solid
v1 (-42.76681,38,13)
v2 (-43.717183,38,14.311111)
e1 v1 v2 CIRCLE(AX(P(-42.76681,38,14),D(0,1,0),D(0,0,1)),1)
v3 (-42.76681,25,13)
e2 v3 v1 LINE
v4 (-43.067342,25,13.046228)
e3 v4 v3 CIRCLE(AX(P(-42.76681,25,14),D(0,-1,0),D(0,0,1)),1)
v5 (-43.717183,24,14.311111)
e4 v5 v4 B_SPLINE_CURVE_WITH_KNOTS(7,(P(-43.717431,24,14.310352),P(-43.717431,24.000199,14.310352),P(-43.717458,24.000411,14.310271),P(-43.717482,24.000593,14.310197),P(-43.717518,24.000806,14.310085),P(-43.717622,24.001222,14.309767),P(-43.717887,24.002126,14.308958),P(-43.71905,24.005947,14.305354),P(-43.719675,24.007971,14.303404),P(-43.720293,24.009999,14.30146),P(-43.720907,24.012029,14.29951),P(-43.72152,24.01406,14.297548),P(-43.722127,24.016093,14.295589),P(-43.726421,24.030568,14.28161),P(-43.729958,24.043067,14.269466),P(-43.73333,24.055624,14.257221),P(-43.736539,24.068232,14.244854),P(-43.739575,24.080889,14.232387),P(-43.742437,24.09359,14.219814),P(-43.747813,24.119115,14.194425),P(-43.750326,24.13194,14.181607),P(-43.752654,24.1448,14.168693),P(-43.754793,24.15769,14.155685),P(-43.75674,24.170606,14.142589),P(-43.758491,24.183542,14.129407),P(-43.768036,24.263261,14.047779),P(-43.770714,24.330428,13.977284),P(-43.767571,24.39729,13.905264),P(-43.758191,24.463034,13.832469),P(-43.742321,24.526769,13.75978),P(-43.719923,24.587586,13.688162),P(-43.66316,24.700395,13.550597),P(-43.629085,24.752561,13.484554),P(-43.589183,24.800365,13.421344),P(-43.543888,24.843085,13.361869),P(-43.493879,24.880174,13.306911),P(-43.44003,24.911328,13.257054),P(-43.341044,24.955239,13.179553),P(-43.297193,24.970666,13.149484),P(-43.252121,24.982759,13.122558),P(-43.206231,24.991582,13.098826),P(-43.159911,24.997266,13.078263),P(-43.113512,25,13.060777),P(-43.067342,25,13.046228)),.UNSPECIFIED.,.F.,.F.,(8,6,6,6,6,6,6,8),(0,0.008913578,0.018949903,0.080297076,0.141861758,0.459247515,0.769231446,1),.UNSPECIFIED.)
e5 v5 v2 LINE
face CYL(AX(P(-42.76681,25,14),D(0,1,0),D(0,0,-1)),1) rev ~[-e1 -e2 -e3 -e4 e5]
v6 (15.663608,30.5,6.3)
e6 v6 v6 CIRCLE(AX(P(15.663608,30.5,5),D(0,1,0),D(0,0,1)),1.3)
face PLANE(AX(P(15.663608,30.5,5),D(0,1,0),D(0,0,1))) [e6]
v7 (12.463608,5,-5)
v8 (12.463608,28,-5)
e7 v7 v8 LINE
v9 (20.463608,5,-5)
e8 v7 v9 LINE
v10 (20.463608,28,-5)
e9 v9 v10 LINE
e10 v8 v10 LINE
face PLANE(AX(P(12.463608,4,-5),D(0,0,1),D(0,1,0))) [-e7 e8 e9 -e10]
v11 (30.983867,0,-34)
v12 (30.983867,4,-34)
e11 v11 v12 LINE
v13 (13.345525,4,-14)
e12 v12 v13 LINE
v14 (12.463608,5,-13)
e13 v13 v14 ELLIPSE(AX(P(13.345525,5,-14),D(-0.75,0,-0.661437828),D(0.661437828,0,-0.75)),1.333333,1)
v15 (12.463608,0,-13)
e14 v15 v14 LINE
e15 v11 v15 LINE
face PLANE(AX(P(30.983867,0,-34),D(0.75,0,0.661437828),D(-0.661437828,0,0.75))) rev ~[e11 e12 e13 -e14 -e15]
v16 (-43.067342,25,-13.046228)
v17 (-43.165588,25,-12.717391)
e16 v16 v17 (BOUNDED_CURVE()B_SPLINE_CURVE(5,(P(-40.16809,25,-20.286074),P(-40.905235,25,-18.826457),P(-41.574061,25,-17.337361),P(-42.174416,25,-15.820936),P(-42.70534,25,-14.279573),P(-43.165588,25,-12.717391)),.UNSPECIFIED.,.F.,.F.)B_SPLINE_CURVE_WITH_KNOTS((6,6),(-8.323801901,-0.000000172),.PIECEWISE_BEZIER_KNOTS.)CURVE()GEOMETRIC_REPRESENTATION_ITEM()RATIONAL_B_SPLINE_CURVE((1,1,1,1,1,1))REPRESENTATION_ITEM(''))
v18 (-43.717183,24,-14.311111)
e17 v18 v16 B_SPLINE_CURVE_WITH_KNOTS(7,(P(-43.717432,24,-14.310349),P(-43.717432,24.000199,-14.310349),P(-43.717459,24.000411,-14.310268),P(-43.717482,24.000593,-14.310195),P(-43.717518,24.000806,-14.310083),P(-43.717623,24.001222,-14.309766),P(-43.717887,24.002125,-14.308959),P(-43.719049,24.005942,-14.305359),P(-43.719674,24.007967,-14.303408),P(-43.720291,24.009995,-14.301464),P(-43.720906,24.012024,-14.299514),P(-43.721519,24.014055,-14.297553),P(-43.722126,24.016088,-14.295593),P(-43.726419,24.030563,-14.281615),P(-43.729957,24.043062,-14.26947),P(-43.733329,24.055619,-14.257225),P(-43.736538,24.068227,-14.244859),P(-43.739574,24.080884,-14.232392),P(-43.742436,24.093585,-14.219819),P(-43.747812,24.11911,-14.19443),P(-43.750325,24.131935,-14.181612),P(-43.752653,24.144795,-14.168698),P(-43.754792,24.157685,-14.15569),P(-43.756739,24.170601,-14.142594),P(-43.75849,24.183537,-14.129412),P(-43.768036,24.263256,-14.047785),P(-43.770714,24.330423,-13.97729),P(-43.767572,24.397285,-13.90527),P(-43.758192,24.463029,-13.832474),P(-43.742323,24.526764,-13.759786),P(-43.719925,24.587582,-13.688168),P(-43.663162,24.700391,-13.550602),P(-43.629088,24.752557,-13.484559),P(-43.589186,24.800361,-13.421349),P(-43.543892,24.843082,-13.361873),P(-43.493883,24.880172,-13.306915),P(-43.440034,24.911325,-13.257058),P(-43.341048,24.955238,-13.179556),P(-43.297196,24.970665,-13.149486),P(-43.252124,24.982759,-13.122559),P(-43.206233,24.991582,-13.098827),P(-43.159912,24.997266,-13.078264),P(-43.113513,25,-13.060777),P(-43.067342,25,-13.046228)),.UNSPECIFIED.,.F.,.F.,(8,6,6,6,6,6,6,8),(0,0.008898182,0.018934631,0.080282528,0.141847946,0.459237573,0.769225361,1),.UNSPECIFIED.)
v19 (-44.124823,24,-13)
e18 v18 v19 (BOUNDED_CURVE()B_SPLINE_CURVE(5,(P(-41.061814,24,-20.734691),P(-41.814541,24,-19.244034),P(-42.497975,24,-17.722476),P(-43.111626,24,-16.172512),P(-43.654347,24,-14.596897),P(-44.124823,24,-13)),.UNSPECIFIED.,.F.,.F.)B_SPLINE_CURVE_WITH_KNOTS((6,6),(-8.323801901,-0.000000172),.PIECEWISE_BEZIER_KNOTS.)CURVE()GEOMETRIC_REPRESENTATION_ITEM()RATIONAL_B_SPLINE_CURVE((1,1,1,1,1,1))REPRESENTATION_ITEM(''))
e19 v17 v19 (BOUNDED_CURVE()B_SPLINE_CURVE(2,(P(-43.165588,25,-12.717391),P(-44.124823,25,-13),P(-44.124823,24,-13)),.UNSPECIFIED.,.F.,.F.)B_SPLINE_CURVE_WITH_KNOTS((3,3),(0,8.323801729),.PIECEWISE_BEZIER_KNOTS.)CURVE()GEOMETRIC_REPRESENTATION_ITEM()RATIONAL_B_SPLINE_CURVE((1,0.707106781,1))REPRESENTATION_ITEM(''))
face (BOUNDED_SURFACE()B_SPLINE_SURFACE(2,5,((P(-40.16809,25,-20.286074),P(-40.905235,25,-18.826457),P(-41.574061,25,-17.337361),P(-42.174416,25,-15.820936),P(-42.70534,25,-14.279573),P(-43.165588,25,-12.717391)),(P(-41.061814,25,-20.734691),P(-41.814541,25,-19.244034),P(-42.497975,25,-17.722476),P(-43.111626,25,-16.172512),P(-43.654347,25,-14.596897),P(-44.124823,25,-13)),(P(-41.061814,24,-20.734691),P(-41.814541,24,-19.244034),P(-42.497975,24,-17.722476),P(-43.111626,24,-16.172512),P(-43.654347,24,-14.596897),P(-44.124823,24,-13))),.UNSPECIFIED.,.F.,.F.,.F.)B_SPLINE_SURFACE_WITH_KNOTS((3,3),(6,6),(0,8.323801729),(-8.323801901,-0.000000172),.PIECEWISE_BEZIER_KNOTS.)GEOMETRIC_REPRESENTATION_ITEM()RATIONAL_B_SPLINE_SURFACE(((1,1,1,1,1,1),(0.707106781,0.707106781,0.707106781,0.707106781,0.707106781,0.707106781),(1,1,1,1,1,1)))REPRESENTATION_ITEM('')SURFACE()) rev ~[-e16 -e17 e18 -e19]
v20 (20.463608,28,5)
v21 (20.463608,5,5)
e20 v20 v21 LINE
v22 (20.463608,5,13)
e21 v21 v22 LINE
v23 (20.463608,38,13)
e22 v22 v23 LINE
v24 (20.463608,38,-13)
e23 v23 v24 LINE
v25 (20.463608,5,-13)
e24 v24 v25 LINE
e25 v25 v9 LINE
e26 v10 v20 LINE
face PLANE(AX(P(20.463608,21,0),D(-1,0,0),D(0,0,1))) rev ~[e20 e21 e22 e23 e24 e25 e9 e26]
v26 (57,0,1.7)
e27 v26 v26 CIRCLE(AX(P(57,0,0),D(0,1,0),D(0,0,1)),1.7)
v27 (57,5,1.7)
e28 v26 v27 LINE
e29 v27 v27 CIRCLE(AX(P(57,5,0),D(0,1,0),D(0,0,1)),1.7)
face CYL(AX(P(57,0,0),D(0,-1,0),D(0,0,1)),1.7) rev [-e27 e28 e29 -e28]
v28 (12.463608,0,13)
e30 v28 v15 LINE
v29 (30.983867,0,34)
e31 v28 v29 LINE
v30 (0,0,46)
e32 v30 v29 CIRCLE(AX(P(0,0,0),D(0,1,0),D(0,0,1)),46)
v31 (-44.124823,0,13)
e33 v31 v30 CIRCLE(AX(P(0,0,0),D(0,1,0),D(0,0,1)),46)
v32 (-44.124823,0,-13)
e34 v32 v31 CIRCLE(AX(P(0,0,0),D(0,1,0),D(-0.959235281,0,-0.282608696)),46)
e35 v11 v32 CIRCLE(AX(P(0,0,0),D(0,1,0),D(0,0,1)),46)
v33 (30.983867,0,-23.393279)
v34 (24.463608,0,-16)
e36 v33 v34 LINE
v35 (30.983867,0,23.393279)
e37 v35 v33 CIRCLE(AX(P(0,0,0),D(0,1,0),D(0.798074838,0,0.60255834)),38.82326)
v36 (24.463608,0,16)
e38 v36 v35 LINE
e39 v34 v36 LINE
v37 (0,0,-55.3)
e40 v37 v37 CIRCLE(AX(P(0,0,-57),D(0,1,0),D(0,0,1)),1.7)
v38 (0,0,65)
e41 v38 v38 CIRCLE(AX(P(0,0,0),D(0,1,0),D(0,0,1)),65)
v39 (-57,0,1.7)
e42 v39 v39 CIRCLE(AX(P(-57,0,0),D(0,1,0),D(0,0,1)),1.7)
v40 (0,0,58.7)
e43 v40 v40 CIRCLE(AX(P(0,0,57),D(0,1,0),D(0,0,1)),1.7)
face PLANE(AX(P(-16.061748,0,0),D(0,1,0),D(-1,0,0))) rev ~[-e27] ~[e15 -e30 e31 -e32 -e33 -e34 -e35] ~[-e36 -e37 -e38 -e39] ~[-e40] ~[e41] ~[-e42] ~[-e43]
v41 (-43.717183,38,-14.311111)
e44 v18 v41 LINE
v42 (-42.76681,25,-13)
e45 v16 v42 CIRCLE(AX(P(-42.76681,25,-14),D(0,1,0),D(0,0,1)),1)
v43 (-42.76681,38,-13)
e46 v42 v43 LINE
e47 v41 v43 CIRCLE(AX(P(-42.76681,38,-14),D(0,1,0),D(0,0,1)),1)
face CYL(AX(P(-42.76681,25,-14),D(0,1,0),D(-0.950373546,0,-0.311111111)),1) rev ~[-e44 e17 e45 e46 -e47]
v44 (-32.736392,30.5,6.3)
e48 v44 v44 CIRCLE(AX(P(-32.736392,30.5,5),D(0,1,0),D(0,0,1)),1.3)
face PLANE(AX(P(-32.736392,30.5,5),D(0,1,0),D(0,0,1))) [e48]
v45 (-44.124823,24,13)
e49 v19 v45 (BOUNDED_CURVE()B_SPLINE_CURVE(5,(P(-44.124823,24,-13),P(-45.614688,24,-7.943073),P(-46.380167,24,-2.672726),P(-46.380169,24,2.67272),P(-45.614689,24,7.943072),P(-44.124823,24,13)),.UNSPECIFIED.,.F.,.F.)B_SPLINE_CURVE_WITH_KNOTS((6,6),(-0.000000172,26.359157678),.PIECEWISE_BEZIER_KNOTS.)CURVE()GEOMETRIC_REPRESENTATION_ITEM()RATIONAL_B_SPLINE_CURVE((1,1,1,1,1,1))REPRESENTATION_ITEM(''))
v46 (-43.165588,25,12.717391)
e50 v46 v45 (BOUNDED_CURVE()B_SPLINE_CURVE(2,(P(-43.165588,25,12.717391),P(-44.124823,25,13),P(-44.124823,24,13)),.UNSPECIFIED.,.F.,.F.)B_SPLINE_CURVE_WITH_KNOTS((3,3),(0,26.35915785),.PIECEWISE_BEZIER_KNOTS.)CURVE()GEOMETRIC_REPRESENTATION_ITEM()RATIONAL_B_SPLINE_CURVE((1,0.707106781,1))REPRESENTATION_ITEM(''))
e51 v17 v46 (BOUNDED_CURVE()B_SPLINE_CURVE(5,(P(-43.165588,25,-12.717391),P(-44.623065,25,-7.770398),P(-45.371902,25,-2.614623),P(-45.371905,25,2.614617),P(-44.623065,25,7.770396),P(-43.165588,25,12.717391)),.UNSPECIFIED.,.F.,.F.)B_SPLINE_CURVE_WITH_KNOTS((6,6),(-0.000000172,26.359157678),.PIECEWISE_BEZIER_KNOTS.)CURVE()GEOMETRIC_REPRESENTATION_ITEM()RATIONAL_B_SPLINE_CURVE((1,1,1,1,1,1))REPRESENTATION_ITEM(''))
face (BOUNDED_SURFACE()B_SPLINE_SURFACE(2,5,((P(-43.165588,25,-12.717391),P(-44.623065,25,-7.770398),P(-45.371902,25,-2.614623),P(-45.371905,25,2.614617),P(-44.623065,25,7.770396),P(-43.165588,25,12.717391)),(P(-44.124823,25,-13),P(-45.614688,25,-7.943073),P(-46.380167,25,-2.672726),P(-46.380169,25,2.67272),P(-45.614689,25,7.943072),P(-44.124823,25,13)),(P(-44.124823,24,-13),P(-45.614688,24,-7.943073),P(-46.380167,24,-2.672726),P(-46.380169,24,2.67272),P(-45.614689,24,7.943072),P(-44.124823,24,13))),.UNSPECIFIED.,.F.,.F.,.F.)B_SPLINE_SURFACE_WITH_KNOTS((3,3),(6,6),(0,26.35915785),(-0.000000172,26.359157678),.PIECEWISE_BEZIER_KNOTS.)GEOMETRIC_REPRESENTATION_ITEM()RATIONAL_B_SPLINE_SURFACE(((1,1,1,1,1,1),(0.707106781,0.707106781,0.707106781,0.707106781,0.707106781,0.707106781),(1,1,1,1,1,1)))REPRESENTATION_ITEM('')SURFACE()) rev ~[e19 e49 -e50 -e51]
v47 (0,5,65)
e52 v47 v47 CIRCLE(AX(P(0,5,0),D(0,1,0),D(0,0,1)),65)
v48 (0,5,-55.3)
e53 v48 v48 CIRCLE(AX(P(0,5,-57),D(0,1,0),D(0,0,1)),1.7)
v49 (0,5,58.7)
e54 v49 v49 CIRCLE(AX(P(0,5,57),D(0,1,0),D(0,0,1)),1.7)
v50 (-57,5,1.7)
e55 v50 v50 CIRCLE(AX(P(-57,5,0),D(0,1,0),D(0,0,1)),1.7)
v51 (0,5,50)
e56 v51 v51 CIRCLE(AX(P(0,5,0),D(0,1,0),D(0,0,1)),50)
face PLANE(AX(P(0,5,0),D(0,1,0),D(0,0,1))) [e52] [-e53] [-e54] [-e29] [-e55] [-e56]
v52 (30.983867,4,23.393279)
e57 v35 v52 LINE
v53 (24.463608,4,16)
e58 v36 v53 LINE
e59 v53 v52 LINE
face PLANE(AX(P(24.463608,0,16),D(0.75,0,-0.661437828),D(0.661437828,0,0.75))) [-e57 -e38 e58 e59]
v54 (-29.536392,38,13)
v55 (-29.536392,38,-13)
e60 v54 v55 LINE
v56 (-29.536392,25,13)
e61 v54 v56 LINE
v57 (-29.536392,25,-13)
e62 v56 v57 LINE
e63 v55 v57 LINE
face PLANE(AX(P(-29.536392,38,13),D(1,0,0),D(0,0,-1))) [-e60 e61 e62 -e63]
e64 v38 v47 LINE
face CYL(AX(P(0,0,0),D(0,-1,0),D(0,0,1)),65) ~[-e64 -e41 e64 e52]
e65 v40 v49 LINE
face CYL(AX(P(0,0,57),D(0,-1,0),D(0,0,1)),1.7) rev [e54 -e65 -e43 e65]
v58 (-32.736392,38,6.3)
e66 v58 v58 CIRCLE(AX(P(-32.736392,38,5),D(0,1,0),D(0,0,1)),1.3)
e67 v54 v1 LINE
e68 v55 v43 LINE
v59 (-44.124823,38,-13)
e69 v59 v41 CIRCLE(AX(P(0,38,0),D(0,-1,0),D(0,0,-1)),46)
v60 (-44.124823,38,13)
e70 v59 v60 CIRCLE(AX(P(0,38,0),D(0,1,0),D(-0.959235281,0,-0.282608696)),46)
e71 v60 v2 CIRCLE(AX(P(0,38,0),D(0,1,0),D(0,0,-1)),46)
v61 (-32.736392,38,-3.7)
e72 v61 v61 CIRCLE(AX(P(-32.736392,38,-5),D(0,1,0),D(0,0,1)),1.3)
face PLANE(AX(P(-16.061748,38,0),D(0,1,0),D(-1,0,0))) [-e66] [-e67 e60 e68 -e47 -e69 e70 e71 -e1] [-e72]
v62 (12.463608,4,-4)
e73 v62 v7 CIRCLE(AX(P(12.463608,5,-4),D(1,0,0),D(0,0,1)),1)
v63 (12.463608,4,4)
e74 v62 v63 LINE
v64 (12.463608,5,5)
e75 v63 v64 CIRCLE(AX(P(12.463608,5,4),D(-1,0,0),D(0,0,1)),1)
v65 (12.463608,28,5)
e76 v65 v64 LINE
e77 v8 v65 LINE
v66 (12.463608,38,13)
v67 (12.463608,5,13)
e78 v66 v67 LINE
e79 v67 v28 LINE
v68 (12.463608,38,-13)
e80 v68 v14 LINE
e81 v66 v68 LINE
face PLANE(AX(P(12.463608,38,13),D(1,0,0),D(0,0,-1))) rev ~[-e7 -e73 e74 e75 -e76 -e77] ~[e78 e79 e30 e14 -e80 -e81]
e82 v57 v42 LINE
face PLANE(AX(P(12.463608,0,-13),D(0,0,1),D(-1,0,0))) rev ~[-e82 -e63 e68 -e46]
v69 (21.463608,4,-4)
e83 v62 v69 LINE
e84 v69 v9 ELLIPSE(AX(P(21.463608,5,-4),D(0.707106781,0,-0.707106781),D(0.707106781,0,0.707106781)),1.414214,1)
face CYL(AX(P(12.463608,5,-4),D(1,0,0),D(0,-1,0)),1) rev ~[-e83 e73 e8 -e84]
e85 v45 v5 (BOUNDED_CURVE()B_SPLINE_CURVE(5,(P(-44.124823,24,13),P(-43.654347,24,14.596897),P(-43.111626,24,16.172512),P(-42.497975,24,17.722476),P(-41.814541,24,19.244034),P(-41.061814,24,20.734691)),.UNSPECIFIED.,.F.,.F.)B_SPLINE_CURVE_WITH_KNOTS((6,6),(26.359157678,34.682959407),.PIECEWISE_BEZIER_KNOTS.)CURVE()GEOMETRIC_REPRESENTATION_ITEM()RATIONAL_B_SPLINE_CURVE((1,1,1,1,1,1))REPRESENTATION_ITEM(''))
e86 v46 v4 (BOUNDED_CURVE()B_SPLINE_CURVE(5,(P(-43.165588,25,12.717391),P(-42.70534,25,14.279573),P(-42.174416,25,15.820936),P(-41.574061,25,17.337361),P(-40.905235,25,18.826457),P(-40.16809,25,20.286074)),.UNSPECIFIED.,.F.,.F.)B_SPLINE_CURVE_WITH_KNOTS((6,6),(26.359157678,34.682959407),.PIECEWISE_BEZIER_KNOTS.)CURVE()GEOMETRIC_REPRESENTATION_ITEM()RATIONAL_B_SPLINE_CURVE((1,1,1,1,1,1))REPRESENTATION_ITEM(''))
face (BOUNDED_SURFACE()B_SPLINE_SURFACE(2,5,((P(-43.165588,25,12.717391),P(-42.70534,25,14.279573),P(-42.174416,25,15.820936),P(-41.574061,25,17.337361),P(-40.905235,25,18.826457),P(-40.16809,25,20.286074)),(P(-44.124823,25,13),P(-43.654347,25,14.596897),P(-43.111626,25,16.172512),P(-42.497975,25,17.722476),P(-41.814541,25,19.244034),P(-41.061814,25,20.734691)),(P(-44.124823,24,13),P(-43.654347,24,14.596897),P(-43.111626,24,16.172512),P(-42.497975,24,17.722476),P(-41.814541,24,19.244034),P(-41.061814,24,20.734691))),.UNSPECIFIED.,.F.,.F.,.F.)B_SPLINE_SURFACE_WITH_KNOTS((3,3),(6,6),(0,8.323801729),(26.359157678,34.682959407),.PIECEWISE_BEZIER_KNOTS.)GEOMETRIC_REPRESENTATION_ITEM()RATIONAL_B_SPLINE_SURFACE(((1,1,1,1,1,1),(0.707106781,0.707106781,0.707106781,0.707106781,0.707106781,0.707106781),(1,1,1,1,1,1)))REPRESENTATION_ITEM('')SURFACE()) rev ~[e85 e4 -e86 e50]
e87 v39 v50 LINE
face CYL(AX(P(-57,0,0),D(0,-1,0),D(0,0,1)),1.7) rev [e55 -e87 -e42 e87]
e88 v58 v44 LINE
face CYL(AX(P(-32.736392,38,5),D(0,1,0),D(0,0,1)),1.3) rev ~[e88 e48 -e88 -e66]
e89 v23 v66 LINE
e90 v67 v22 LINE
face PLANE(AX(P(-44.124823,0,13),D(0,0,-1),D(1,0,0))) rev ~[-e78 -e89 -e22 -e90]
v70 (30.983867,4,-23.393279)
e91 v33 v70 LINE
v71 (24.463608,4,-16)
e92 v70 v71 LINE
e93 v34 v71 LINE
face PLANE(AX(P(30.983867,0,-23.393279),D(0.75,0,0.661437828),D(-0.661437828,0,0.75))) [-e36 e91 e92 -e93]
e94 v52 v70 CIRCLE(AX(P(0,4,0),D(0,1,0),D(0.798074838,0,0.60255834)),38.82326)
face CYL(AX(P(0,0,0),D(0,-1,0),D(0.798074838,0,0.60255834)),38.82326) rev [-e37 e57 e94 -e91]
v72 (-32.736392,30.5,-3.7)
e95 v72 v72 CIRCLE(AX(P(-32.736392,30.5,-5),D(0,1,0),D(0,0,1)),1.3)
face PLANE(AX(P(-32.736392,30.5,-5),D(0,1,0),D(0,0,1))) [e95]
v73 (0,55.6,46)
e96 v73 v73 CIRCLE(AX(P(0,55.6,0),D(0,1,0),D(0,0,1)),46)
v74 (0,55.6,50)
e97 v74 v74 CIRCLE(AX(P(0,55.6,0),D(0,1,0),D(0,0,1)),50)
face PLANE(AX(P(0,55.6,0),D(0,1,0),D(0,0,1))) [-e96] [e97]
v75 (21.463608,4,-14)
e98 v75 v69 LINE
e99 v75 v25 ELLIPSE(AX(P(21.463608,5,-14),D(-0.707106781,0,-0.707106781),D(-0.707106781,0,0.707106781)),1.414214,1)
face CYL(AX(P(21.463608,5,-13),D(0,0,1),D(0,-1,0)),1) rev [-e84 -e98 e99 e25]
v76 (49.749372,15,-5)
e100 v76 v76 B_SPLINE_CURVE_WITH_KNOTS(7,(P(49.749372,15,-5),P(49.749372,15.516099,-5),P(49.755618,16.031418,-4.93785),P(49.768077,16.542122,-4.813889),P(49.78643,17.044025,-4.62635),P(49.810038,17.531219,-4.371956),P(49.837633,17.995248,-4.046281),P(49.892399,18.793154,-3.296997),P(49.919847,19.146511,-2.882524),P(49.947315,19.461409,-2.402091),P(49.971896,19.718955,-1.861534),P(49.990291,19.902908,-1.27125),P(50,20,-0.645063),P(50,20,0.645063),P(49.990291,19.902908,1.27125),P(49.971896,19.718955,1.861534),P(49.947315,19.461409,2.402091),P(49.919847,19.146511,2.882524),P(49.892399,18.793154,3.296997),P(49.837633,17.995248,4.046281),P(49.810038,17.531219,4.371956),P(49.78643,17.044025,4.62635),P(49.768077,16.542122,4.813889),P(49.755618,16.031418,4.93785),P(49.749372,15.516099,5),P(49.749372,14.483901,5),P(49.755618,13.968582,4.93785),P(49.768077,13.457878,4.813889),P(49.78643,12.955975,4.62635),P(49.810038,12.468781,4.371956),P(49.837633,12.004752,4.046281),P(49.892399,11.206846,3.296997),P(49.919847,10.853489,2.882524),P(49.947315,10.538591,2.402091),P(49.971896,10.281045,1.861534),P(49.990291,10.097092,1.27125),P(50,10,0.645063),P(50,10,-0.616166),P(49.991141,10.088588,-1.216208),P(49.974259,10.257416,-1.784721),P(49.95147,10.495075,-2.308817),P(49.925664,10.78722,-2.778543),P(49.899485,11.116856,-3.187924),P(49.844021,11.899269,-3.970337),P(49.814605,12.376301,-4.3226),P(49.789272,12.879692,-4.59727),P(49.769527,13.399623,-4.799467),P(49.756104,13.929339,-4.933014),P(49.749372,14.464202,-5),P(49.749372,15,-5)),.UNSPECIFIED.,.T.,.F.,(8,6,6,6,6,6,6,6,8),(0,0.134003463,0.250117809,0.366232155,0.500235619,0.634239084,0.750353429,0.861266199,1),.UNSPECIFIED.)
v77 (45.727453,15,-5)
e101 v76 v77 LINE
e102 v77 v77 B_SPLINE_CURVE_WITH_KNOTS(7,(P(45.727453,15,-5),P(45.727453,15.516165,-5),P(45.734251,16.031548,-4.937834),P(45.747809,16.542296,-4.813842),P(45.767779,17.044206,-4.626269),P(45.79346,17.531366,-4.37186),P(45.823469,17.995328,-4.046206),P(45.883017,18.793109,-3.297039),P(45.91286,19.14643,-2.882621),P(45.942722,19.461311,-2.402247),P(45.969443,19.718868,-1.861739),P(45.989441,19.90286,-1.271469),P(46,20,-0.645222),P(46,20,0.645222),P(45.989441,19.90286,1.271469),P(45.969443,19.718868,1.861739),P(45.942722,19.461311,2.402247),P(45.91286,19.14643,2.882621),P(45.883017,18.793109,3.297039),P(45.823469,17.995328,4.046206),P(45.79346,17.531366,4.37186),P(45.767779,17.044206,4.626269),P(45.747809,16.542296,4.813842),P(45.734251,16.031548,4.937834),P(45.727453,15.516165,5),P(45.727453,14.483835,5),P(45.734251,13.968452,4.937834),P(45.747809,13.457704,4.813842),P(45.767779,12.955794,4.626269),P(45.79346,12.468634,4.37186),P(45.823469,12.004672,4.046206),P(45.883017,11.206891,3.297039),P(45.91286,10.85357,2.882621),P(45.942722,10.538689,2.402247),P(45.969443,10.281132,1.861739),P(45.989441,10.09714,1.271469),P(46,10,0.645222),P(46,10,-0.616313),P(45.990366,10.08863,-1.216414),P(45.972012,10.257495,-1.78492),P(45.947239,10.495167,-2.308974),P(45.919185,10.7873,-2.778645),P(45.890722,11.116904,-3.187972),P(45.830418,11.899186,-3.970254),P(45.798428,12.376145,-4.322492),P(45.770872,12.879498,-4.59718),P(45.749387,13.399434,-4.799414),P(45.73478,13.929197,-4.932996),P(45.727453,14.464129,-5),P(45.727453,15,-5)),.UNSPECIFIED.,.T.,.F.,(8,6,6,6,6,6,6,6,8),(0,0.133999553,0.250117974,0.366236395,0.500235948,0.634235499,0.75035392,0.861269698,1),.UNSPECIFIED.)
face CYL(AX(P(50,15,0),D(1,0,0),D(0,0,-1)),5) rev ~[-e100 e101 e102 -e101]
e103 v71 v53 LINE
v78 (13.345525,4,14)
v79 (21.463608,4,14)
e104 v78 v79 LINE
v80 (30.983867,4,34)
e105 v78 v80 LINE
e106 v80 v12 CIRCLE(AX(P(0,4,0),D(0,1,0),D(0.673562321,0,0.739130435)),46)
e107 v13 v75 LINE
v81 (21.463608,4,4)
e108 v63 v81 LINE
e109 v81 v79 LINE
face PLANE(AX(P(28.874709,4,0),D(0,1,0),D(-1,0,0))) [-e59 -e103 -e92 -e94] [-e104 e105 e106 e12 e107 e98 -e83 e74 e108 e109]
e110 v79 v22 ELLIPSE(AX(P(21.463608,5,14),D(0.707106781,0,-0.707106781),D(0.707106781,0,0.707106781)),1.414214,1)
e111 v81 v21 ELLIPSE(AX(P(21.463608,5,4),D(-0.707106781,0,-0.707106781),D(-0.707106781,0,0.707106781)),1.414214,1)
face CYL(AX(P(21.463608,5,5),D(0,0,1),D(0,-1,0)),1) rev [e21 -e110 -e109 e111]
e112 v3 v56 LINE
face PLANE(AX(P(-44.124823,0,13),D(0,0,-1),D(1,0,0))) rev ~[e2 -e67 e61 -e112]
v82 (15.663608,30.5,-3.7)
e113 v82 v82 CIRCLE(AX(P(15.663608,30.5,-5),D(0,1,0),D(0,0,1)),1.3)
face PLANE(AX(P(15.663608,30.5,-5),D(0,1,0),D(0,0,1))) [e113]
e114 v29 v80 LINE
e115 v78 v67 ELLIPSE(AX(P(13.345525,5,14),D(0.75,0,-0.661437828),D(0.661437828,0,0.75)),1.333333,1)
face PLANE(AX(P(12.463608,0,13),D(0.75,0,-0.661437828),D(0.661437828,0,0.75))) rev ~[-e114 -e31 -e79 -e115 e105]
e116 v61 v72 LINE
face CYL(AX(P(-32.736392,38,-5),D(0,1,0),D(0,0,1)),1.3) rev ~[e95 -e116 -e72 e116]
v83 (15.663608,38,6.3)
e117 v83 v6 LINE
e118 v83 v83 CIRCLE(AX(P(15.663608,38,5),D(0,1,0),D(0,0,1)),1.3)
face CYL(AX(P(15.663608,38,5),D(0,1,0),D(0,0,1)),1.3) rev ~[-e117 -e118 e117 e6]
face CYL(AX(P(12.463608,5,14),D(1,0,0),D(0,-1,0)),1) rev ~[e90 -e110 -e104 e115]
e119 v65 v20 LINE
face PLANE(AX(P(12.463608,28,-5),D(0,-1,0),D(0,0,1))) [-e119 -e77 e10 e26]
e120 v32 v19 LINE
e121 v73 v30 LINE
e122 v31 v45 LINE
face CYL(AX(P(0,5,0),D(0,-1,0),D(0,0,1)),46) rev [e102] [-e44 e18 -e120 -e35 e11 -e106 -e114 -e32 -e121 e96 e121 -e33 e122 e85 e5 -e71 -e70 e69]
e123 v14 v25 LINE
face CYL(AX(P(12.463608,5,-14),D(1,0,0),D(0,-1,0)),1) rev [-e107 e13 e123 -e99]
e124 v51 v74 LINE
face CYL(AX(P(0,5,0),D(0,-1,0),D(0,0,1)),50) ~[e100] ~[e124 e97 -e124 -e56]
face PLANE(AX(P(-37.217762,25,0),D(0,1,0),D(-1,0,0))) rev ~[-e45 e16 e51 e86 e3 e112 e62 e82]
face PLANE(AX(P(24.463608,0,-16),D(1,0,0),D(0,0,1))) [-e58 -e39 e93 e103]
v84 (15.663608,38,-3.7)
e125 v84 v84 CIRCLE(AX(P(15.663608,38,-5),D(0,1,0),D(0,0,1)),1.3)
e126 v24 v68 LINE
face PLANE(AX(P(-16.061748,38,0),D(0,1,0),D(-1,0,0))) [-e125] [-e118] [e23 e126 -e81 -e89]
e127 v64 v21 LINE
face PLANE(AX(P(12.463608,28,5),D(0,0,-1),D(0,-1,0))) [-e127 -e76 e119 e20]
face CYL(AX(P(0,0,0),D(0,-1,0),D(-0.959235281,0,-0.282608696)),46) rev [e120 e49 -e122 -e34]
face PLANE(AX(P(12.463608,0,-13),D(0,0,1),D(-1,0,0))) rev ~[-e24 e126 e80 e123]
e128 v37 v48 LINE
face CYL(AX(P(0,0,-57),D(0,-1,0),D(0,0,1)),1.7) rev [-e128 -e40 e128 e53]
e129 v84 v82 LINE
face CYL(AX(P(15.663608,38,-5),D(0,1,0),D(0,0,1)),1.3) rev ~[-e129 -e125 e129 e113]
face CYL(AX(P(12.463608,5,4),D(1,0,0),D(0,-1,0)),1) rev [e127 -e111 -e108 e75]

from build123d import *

# Parameters (mm, degrees)
SKETCH1_R               = 65
SKETCH1_R_2             = 46
SKETCH1_R_3             = 1.7
BOSS_EXTRUDE1_DEPTH     = 5
SKETCH3_R               = 50
SKETCH3_R_2             = 46
BOSS_EXTRUDE2_DEPTH     = 50.6
BOSS_EXTRUDE3_DEPTH     = 4
BOSS_EXTRUDE4_DEPTH     = 8
BOSS_EXTRUDE5_DEPTH     = 38
CUT_EXTRUDE3_REACH      = 145.323
CUT_EXTRUDE3_END_RADIUS = 46
SKETCH12_R              = 5
SKETCH13_W              = 42
SKETCH13_H              = 26
CUT_EXTRUDE4_DEPTH      = 38
SKETCH14_R              = 1.3
CUT_EXTRUDE5_DEPTH      = 7.5
CUT_EXTRUDE6_DEPTH      = 25
FILLET1_R               = 1


with BuildPart() as part:
    # Sketch1 → Boss-Extrude1 (new body)
    with BuildSketch(Plane(origin=(0, 0, 0), x_dir=(1, 0, 0), z_dir=(0, 1, 0))):
        with Locations(Location((0, 0, 0), (0, 0, 270))):
            Circle(SKETCH1_R)
        with Locations(Location((0, 0, 0), (0, 0, 270))):
            Circle(SKETCH1_R_2, mode=Mode.SUBTRACT)
        with Locations(Location((0, -57, 0), (0, 0, 270))):
            Circle(SKETCH1_R_3, mode=Mode.SUBTRACT)
        with Locations(Location((-57, 0, 0), (0, 0, 270))):
            Circle(SKETCH1_R_3, mode=Mode.SUBTRACT)
        with Locations(Location((0, 57, 0), (0, 0, 270))):
            Circle(SKETCH1_R_3, mode=Mode.SUBTRACT)
        with Locations(Location((57, 0, 0), (0, 0, 270))):
            Circle(SKETCH1_R_3, mode=Mode.SUBTRACT)
    extrude(amount=BOSS_EXTRUDE1_DEPTH)

    # Sketch3 → Boss-Extrude2 (add)
    with BuildSketch(Plane(origin=(0, 5, 0), x_dir=(1, 0, 0), z_dir=(0, 1, 0))):
        with Locations(Location((0, 0, 0), (0, 0, 270))):
            Circle(SKETCH3_R)
        with Locations(Location((0, 0, 0), (0, 0, 270))):
            Circle(SKETCH3_R_2, mode=Mode.SUBTRACT)
    extrude(amount=BOSS_EXTRUDE2_DEPTH)

    # Sketch4 → Boss-Extrude3 (add)
    with BuildSketch(Plane.XZ):
        with BuildLine():
            Line((30.98386677, -34), (12.463607592, -13))
            Line((12.463607592, -13), (12.463607592, 13))
            Line((12.463607592, 13), (30.98386677, 34))
            ThreePointArc((30.98386677, 34), (46, 0), (30.98386677, -34))
        make_face()
        with BuildLine():
            Line((24.463607592, 16), (30.98386677, 23.393278972))
            ThreePointArc((30.98386677, 23.393278972), (38.823259794, 0), (30.98386677, -23.393278972))
            Line((30.98386677, -23.393278972), (24.463607592, -16))
            Line((24.463607592, -16), (24.463607592, 16))
        make_face(mode=Mode.SUBTRACT)
    extrude(amount=-BOSS_EXTRUDE3_DEPTH)

    # Sketch6 → Boss-Extrude4 (add)
    with BuildSketch(Plane.ZY.offset(-12.463607592)):
        Polygon((13, 4), (13, 38), (-13, 38), (-13, 4), (-5, 4), (-5, 28), (5, 28), (5, 4), align=None)
    extrude(amount=-BOSS_EXTRUDE4_DEPTH)

    # Sketch7 → Boss-Extrude5 (add)
    with BuildSketch(Plane.XZ):
        with BuildLine():
            Line((-44.124822946, 13), (12.463607592, 13))
            Line((12.463607592, 13), (12.463607592, -13))
            Line((12.463607592, -13), (-44.124822946, -13))
            ThreePointArc((-44.124822946, -13), (-46, 0), (-44.124822946, 13))
        make_face()
    extrude(amount=-BOSS_EXTRUDE5_DEPTH)

    # Cut-Extrude3: up to this cylinder (the profile starts outside it)
    cut_extrude3_end = Plane(origin=(0, 15, 0), z_dir=(0, -1, 0)) * Cylinder(CUT_EXTRUDE3_END_RADIUS, 383.646, mode=Mode.PRIVATE)
    # Sketch12 → Cut-Extrude3 (cut, up to the surface)
    with BuildSketch(Plane(origin=(50, 0, 0), x_dir=(0, 0, -1), z_dir=(1, 0, 0)), mode=Mode.PRIVATE) as cut_extrude3_sk1:
        with Locations((0, 15)):
            Circle(SKETCH12_R)
    cut_extrude3_tool1 = extrude(cut_extrude3_sk1.sketch, amount=-CUT_EXTRUDE3_REACH, mode=Mode.PRIVATE) - cut_extrude3_end
    add(cut_extrude3_tool1.solids().sort_by_distance((50, 15, 0))[0], mode=Mode.SUBTRACT)

    # Sketch13 → Cut-Extrude4 (cut)
    with BuildSketch(Plane(origin=(0, 38, 0), x_dir=(1, 0, 0), z_dir=(0, 1, 0))):
        with Locations((-8.536392408, 0)):
            Rectangle(SKETCH13_W, SKETCH13_H)
    extrude(amount=-CUT_EXTRUDE4_DEPTH, mode=Mode.SUBTRACT)

    # Sketch14 → Cut-Extrude5 (cut)
    with BuildSketch(Plane(origin=(0, 38, 0), x_dir=(1, 0, 0), z_dir=(0, 1, 0))):
        with Locations(Location((15.663607592, 5, 0), (0, 0, 270))):
            Circle(SKETCH14_R)
        with Locations(Location((15.663607592, -5, 0), (0, 0, 270))):
            Circle(SKETCH14_R)
        with Locations(Location((-32.736392408, 5, 0), (0, 0, 270))):
            Circle(SKETCH14_R)
        with Locations(Location((-32.736392408, -5, 0), (0, 0, 270))):
            Circle(SKETCH14_R)
    extrude(amount=-CUT_EXTRUDE5_DEPTH, mode=Mode.SUBTRACT)

    # Sketch15 → Cut-Extrude6 (cut)
    with BuildSketch(Plane.XZ):
        with BuildLine():
            Line((-44.124822946, 13), (-29.536392408, 13))
            Line((-29.536392408, 13), (-29.536392408, -13))
            Line((-29.536392408, -13), (-44.124822946, -13))
            ThreePointArc((-44.124822946, -13), (-46, 0), (-44.124822946, 13))
        make_face()
    extrude(amount=-CUT_EXTRUDE6_DEPTH, mode=Mode.SUBTRACT)

    # Fillet1
    fillet1_edges = [part.edges().sort_by_distance(p)[0] for p in [
        (-46, 25, 0),
        (20.463607592, 4, -9),
        (16.463607592, 4, -5),
        (16.463607592, 4, -13),
        (20.463607592, 4, 9),
        (16.463607592, 4, 13),
        (16.463607592, 4, 5),
        (-44.124822946, 31.5, 13),
        (-44.124822946, 31.5, -13),
    ]]
    fillet(fillet1_edges, radius=FILLET1_R)


solid = part.part
